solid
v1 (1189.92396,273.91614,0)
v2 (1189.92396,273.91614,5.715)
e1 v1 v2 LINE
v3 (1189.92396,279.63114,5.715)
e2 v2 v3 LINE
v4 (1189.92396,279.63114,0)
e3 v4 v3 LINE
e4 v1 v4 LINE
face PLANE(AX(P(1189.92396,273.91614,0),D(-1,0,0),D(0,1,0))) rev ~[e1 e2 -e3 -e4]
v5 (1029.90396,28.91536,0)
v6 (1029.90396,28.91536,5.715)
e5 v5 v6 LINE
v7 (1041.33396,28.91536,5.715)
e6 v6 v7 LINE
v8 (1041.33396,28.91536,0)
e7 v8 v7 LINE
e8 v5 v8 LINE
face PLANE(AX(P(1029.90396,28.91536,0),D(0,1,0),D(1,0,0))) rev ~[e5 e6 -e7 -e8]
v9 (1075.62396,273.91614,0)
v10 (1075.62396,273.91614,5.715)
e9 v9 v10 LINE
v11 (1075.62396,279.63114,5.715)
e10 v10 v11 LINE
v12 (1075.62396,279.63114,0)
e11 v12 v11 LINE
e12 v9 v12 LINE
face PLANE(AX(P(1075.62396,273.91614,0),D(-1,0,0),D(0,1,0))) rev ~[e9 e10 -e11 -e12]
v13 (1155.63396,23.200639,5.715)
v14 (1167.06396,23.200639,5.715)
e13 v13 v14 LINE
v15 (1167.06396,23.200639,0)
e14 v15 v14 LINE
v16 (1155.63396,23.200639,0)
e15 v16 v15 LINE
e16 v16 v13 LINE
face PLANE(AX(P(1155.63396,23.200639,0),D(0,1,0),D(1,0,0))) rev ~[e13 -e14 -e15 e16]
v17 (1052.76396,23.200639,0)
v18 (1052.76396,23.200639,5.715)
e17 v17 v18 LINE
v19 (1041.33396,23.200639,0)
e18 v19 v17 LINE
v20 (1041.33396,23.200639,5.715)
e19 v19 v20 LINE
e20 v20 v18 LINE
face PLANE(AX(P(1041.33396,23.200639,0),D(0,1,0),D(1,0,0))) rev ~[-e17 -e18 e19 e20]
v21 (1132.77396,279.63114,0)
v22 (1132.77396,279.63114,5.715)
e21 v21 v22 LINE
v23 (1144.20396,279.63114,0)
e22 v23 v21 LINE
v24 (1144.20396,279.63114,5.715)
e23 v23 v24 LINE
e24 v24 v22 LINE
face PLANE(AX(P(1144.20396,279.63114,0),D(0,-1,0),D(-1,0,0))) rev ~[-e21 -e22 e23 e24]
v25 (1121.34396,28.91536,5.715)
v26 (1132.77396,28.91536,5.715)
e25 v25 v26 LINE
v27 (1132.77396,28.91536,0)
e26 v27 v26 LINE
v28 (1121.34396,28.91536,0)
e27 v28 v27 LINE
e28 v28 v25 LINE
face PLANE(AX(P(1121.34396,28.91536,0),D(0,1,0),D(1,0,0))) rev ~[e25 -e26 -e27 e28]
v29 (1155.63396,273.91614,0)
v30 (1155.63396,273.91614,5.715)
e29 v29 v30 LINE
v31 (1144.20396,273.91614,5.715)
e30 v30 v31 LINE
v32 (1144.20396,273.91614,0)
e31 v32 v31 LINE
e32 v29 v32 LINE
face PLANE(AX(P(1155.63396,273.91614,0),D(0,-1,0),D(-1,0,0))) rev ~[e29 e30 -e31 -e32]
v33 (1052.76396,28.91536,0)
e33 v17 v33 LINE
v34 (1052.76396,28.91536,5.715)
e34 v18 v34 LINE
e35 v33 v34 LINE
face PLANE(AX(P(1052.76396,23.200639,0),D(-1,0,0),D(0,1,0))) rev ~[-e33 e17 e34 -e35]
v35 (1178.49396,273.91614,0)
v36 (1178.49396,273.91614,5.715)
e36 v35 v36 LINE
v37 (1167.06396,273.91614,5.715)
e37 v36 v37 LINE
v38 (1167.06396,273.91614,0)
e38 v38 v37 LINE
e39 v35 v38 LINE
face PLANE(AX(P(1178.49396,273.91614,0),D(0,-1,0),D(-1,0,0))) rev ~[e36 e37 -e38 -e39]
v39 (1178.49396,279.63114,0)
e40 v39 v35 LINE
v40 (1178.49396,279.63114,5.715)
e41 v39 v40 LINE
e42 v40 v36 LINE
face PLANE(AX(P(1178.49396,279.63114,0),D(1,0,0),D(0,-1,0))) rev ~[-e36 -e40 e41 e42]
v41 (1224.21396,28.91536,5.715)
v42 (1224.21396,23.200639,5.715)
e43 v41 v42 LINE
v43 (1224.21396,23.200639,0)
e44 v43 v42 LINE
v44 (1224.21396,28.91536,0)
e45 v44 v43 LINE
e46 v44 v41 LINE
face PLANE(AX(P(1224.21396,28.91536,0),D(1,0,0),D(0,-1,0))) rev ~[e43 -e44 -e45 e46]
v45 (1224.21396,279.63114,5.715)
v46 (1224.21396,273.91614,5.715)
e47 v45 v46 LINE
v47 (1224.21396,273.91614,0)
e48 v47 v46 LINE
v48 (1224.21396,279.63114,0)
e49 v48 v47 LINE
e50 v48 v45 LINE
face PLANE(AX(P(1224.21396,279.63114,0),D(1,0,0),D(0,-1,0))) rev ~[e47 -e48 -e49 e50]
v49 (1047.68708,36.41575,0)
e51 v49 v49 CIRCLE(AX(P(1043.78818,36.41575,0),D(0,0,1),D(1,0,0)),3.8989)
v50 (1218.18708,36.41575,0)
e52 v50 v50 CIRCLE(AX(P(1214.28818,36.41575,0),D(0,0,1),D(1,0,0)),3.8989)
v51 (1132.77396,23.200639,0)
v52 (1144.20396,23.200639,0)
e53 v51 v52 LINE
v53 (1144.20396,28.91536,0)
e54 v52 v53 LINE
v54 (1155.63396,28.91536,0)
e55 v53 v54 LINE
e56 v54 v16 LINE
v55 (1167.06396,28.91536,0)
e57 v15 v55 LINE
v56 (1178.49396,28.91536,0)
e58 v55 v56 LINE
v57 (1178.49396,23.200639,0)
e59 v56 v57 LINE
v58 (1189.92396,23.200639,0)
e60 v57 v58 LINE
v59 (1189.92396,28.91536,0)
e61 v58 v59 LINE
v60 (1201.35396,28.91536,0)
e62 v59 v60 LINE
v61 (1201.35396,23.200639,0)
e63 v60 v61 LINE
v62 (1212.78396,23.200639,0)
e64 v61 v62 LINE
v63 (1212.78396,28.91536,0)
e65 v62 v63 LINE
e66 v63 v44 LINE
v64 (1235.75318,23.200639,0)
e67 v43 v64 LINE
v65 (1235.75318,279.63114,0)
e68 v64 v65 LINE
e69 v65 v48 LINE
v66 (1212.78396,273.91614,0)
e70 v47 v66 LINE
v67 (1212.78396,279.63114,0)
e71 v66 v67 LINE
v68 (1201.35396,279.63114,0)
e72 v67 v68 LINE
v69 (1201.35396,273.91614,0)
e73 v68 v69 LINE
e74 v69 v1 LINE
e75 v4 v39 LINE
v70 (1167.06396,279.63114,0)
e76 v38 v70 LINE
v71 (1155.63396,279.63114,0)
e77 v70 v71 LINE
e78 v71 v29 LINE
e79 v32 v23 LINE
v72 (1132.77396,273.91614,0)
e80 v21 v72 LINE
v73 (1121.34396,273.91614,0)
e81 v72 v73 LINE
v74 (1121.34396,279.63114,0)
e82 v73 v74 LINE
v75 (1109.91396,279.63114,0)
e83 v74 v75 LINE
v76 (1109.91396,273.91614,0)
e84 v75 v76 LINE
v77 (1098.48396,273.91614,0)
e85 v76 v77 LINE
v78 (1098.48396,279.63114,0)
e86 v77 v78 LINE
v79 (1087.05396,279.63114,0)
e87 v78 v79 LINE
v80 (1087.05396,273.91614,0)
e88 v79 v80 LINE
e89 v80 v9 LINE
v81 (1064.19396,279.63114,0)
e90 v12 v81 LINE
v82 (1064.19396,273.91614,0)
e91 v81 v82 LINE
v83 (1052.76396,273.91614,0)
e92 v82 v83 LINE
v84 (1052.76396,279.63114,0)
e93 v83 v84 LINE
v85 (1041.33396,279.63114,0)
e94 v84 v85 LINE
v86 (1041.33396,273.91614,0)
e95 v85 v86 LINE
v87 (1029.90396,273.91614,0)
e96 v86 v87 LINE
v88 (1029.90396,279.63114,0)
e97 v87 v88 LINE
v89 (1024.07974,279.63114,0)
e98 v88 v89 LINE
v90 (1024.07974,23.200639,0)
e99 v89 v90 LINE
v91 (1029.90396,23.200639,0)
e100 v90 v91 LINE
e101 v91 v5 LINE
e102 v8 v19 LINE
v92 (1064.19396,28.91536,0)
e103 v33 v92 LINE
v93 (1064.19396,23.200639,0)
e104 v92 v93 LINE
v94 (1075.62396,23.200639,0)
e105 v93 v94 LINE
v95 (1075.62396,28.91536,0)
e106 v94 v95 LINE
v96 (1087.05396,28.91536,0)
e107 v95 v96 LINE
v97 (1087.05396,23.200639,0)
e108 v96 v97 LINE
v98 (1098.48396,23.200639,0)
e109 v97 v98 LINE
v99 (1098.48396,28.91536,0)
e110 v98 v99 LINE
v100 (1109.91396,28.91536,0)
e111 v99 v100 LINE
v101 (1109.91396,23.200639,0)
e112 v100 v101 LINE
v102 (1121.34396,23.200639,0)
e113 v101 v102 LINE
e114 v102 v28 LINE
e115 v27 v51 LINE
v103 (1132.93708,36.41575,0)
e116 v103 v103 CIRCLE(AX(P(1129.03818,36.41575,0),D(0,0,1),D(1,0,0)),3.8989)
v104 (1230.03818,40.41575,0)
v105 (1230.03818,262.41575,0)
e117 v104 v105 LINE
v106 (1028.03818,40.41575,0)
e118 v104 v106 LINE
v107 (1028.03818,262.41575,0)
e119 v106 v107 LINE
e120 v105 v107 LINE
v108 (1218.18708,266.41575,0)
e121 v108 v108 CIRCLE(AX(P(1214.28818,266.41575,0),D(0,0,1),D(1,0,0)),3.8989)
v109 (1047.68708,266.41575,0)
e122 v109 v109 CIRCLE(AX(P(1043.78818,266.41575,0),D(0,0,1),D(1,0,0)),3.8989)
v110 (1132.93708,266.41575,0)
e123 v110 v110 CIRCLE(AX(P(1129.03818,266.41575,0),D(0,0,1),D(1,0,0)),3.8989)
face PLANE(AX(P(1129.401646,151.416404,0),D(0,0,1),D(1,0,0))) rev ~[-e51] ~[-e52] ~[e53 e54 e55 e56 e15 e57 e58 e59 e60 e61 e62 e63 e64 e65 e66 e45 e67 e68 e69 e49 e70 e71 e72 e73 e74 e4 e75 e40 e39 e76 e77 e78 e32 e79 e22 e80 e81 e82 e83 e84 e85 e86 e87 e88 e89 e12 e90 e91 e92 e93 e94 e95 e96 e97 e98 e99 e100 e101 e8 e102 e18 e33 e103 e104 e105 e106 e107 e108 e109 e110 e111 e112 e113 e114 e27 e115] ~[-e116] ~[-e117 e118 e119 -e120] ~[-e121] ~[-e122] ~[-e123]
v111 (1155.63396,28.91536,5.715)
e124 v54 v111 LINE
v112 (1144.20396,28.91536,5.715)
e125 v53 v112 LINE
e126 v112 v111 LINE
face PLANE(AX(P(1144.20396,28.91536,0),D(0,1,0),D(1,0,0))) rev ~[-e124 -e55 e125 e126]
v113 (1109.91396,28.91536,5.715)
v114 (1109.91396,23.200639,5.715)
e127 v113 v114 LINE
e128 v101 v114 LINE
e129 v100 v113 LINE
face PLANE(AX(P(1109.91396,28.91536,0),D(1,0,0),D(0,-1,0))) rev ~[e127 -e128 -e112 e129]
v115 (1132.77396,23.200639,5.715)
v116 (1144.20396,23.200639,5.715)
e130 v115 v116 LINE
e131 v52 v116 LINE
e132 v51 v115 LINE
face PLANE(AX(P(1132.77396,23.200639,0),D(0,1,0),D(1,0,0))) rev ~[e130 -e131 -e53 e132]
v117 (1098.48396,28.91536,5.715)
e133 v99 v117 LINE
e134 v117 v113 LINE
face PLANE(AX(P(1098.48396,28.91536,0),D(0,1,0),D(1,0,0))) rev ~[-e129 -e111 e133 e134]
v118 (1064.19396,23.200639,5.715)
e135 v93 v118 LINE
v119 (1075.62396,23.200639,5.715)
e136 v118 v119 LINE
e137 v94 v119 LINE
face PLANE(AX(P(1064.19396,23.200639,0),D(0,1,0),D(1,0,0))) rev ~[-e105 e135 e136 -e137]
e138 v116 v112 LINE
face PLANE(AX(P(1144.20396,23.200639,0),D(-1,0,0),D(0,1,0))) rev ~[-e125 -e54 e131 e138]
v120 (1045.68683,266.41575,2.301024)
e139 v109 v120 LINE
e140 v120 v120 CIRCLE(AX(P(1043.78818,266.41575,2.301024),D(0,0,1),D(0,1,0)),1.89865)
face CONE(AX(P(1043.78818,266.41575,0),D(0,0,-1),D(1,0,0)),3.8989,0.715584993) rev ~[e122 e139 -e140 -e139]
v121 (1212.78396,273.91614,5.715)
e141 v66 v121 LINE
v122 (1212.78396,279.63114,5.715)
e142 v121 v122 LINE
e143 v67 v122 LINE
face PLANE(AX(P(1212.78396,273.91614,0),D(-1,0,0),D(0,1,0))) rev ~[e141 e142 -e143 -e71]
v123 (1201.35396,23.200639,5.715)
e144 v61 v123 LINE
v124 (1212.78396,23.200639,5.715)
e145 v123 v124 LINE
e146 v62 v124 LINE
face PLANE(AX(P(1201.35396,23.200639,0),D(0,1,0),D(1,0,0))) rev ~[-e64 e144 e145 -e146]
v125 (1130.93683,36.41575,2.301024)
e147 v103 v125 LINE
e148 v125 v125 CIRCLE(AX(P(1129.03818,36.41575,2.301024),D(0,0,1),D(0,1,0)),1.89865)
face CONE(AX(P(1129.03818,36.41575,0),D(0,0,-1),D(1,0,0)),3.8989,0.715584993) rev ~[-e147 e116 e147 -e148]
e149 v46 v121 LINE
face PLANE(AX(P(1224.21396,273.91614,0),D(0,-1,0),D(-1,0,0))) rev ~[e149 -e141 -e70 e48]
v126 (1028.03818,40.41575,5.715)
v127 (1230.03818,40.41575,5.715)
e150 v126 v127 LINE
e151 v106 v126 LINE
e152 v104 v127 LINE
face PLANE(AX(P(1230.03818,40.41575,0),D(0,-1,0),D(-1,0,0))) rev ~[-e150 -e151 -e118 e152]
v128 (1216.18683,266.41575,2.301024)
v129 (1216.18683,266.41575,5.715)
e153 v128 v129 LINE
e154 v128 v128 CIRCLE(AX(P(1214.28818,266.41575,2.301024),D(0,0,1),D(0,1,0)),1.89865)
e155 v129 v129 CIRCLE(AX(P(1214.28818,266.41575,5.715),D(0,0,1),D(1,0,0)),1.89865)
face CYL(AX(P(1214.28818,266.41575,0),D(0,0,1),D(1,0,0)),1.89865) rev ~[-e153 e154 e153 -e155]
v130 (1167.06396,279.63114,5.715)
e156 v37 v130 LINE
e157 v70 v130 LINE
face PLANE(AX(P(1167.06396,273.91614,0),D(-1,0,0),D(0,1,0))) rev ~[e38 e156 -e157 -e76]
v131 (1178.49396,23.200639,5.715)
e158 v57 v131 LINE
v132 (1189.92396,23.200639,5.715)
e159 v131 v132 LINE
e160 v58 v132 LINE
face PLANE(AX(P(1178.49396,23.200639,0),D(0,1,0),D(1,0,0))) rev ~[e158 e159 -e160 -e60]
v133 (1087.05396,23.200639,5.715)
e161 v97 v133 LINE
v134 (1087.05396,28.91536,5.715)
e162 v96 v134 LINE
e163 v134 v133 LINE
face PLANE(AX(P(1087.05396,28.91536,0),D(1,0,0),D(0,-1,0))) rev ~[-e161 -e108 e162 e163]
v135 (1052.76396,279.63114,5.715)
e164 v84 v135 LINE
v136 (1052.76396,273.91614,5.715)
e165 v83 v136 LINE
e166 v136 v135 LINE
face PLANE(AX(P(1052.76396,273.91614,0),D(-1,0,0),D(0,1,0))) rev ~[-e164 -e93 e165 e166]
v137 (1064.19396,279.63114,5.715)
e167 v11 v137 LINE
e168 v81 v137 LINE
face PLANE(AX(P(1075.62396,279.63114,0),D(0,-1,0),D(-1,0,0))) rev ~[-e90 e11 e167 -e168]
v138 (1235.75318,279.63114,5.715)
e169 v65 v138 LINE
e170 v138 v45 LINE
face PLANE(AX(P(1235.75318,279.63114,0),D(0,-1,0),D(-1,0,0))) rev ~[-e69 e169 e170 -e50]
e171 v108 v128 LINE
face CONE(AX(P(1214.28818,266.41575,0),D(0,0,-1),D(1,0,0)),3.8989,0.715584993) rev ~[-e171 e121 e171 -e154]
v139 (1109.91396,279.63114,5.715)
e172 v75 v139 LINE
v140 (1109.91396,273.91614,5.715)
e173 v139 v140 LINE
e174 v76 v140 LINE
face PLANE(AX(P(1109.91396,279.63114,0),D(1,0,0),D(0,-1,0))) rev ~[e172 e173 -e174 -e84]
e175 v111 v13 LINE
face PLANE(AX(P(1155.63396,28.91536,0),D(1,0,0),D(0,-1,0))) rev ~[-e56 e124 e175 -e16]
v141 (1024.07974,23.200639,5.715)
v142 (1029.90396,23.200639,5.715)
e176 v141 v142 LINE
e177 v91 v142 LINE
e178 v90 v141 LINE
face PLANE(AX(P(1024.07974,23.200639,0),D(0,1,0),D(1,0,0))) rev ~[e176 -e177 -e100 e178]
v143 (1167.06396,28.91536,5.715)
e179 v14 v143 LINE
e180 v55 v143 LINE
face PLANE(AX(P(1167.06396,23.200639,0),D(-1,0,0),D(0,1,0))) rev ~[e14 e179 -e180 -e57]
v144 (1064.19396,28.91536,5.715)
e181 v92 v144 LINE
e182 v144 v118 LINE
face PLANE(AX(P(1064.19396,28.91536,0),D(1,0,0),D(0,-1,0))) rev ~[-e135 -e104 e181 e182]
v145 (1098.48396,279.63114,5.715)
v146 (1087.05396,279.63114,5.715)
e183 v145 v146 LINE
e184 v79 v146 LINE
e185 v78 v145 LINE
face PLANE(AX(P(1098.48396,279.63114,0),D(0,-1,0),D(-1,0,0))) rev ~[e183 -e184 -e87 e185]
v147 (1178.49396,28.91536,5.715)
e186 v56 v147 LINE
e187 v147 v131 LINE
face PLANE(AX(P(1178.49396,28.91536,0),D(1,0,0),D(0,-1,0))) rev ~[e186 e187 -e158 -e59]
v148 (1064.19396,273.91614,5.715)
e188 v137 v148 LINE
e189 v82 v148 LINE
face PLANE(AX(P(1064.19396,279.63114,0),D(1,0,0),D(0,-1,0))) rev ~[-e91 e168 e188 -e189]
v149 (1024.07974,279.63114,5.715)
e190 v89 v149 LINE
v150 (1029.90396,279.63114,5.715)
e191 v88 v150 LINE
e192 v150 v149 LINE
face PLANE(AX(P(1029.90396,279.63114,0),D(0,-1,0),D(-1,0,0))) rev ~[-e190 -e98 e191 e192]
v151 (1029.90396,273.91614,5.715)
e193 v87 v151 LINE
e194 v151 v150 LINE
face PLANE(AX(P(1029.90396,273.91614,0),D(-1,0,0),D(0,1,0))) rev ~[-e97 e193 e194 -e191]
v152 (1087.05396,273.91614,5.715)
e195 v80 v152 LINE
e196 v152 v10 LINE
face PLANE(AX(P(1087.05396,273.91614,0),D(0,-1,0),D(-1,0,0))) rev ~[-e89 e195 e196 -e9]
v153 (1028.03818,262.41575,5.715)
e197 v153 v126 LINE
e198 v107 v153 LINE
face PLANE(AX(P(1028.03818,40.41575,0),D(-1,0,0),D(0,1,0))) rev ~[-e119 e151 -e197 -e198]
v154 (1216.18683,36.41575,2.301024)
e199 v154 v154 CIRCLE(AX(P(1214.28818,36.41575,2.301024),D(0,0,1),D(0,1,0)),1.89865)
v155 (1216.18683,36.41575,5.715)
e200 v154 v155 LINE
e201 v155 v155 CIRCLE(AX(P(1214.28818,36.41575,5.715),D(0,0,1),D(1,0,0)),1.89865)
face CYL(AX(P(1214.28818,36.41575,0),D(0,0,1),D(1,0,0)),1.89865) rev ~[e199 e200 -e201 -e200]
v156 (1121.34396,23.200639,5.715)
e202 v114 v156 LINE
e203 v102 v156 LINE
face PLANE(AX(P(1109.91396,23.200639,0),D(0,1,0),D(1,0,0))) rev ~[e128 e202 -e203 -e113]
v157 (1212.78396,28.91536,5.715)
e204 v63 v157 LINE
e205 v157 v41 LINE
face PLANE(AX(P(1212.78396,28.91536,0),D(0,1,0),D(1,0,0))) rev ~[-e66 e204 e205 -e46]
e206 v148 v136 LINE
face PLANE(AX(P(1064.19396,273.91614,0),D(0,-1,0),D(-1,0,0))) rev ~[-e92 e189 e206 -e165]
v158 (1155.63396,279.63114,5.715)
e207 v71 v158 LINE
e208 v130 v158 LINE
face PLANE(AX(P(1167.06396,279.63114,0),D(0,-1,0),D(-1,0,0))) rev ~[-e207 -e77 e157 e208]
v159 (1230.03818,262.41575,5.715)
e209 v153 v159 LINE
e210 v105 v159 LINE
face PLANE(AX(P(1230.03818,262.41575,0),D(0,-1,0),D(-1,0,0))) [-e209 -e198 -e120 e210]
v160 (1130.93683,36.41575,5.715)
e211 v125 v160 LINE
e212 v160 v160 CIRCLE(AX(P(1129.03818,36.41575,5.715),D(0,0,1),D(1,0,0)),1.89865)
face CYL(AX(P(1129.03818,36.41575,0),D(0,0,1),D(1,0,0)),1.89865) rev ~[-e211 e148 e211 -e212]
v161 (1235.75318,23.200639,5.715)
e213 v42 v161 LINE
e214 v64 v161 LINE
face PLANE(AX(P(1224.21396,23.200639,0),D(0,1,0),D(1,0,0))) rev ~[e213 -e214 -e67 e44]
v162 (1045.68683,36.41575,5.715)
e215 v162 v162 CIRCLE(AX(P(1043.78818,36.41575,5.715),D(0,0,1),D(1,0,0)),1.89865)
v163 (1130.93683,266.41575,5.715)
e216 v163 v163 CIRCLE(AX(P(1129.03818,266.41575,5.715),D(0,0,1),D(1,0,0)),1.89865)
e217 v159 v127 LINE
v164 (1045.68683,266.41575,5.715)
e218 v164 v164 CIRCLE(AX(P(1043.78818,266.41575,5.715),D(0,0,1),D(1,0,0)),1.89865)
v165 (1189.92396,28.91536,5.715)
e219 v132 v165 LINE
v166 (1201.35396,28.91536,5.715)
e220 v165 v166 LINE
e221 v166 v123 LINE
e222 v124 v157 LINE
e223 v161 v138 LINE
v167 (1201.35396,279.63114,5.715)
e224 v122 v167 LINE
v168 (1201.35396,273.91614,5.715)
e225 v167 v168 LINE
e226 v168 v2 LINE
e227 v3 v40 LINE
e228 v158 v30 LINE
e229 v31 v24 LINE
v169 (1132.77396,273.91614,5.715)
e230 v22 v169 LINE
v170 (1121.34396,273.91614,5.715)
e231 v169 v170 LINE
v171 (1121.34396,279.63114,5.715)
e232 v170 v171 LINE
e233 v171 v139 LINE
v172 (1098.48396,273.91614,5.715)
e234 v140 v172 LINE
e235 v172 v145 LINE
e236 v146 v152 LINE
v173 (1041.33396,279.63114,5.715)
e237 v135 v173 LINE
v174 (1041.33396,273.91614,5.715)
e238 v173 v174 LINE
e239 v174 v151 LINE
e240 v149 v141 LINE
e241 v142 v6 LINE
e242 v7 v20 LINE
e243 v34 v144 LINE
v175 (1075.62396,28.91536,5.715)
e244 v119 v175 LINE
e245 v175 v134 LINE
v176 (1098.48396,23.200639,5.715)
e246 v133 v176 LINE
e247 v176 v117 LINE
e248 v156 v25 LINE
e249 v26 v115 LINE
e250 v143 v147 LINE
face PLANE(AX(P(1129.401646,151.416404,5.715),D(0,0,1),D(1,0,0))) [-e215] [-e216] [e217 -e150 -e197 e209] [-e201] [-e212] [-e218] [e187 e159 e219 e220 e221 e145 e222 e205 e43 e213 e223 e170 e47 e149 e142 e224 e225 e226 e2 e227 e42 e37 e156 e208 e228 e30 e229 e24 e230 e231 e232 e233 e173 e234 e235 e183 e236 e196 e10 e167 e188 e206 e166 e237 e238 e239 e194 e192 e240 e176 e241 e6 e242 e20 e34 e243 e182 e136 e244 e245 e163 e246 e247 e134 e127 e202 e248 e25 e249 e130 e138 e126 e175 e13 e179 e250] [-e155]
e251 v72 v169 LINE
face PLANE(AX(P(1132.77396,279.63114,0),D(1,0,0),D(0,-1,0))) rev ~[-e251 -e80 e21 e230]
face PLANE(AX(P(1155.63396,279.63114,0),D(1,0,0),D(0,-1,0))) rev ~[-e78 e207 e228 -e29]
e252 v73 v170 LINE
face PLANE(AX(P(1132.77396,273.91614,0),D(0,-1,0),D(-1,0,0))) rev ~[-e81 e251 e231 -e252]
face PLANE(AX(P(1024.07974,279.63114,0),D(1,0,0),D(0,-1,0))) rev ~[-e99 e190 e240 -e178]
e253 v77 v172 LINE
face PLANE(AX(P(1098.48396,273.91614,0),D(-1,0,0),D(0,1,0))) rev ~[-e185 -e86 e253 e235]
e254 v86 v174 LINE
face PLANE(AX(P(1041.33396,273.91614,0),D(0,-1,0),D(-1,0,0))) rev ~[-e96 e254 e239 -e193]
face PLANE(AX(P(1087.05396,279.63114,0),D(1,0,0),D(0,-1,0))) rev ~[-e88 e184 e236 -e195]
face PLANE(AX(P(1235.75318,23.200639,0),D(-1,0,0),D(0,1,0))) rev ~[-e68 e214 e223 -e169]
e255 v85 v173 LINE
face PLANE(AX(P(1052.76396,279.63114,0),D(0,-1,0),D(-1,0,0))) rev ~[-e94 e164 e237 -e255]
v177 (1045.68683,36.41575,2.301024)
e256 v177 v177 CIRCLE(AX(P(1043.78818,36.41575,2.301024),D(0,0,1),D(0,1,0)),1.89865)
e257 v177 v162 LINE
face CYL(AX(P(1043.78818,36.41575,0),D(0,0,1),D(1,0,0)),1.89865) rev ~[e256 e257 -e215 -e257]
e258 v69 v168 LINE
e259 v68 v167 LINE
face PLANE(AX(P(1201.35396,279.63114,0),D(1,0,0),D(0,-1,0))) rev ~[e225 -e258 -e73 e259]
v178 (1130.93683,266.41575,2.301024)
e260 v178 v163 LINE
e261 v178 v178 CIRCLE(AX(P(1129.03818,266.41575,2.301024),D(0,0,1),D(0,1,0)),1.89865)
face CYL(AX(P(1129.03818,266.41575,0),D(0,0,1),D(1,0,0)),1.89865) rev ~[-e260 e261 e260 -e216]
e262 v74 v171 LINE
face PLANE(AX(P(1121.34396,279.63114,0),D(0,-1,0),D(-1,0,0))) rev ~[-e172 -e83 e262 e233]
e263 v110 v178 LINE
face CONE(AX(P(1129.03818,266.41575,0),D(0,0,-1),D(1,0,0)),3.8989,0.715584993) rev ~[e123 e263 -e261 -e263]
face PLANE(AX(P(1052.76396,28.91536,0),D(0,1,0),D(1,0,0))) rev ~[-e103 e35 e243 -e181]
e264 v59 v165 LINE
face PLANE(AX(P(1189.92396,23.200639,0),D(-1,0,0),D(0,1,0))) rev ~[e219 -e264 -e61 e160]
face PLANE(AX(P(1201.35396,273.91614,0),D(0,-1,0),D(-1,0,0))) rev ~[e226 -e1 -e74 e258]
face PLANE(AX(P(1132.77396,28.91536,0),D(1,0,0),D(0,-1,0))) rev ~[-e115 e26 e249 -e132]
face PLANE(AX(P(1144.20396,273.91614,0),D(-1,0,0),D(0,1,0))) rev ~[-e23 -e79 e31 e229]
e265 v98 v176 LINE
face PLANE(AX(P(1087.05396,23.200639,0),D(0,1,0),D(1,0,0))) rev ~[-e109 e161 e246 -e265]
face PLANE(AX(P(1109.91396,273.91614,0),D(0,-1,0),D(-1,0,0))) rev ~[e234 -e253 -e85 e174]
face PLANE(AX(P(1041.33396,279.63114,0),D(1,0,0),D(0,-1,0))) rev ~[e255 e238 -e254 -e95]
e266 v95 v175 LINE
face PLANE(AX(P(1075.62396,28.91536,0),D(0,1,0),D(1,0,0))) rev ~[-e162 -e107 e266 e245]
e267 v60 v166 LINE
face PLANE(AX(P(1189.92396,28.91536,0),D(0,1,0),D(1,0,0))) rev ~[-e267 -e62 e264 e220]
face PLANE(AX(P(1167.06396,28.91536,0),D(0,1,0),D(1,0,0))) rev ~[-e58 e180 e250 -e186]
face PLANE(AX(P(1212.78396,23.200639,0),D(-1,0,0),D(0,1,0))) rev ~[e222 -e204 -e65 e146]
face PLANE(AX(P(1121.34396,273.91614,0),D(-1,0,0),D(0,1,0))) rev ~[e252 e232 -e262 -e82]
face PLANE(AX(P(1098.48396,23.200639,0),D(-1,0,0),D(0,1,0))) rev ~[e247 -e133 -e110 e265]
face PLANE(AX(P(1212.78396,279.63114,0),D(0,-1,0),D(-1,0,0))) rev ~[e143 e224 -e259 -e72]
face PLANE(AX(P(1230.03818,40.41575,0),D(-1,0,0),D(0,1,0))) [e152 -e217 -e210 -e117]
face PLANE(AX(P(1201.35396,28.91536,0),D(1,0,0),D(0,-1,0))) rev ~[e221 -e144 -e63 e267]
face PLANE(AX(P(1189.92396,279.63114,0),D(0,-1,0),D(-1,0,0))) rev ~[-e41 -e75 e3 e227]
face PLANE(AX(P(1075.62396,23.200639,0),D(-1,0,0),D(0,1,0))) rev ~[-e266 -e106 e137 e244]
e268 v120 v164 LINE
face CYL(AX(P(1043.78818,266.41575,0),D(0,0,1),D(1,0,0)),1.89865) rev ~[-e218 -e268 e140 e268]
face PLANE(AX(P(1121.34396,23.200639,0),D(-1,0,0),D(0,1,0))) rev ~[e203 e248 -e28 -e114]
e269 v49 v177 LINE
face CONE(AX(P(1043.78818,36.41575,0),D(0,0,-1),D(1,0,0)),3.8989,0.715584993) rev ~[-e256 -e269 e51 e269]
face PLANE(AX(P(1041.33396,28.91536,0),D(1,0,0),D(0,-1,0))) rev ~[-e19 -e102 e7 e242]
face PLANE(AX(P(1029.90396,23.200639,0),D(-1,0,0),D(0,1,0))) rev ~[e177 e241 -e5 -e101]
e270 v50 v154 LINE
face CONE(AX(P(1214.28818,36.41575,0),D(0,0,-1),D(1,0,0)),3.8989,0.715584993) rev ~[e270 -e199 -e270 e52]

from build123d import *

# Parameters (mm, degrees)
BOSS_EXTRUDE1_DEPTH                               = 5.715
SKETCH1_W                                         = 202
SKETCH1_H                                         = 222
CUT_EXTRUDE1_DEPTH                                = 6.715
CSK_FOR_6_FLAT_HEAD_SOCKET_CAP_SCREW1_D           = 3.7973
CSK_FOR_6_FLAT_HEAD_SOCKET_CAP_SCREW1_DEPTH       = 20
CSK_FOR_6_FLAT_HEAD_SOCKET_CAP_SCREW1_CSINK_D     = 7.7978
CSK_FOR_6_FLAT_HEAD_SOCKET_CAP_SCREW1_CSINK_ANGLE = 82
CSK_FOR_6_FLAT_HEAD_SOCKET_CAP_SCREW1_TIP         = 1.140824014


with BuildPart() as part:
    # Model → Boss-Extrude1 (new body)
    with BuildSketch(Plane.XY):
        Polygon((1024.07974, 23.2006394), (1029.90396, 23.2006394), (1029.90396, 28.91536), (1041.33396, 28.91536), (1041.33396, 23.2006394), (1052.76396, 23.2006394), (1052.76396, 28.91536), (1064.19396, 28.91536), (1064.19396, 23.2006394), (1075.62396, 23.2006394), (1075.62396, 28.91536), (1087.05396, 28.91536), (1087.05396, 23.2006394), (1098.48396, 23.2006394), (1098.48396, 28.91536), (1109.91396, 28.91536), (1109.91396, 23.2006394), (1121.34396, 23.2006394), (1121.34396, 28.91536), (1132.77396, 28.91536), (1132.77396, 23.2006394), (1144.20396, 23.2006394), (1144.20396, 28.91536), (1155.63396, 28.91536), (1155.63396, 23.2006394), (1167.06396, 23.2006394), (1167.06396, 28.91536), (1178.49396, 28.91536), (1178.49396, 23.2006394), (1189.92396, 23.2006394), (1189.92396, 28.91536), (1201.35396, 28.91536), (1201.35396, 23.2006394), (1212.78396, 23.2006394), (1212.78396, 28.91536), (1224.21396, 28.91536), (1224.21396, 23.2006394), (1235.75318, 23.2006394), (1235.75318, 279.63114), (1224.21396, 279.63114), (1224.21396, 273.91614), (1212.78396, 273.91614), (1212.78396, 279.63114), (1201.35396, 279.63114), (1201.35396, 273.91614), (1189.92396, 273.91614), (1189.92396, 279.63114), (1178.49396, 279.63114), (1178.49396, 273.91614), (1167.06396, 273.91614), (1167.06396, 279.63114), (1155.63396, 279.63114), (1155.63396, 273.91614), (1144.20396, 273.91614), (1144.20396, 279.63114), (1132.77396, 279.63114), (1132.77396, 273.91614), (1121.34396, 273.91614), (1121.34396, 279.63114), (1109.91396, 279.63114), (1109.91396, 273.91614), (1098.48396, 273.91614), (1098.48396, 279.63114), (1087.05396, 279.63114), (1087.05396, 273.91614), (1075.62396, 273.91614), (1075.62396, 279.63114), (1064.19396, 279.63114), (1064.19396, 273.91614), (1052.76396, 273.91614), (1052.76396, 279.63114), (1041.33396, 279.63114), (1041.33396, 273.91614), (1029.90396, 273.91614), (1029.90396, 279.63114), (1024.07974, 279.63114), align=None)
    extrude(amount=BOSS_EXTRUDE1_DEPTH)

    # Sketch1 → Cut-Extrude1 (cut, through all)
    with BuildSketch(Plane(origin=(0, 0, 0), x_dir=(-1, 0, 0), z_dir=(0, 0, -1))):
        with Locations((-1129.03818, 151.41575)):
            Rectangle(SKETCH1_W, SKETCH1_H)
    extrude(amount=-CUT_EXTRUDE1_DEPTH, mode=Mode.SUBTRACT)

    # CSK for #6 Flat Head Socket Cap Screw1
    with Locations(Plane(origin=(1095.03845, 151.41575, 0), x_dir=(-1, 0, 0), z_dir=(0, 0, -1))):
        with Locations((-119.24973, 115), (-33.99973, 115), (51.25027, 115), (51.25027, -115), (-33.99973, -115), (-119.24973, -115)):
            CounterSinkHole(CSK_FOR_6_FLAT_HEAD_SOCKET_CAP_SCREW1_D / 2, CSK_FOR_6_FLAT_HEAD_SOCKET_CAP_SCREW1_CSINK_D / 2, depth=CSK_FOR_6_FLAT_HEAD_SOCKET_CAP_SCREW1_DEPTH, counter_sink_angle=CSK_FOR_6_FLAT_HEAD_SOCKET_CAP_SCREW1_CSINK_ANGLE)
            with Locations((0, 0, -(CSK_FOR_6_FLAT_HEAD_SOCKET_CAP_SCREW1_DEPTH + CSK_FOR_6_FLAT_HEAD_SOCKET_CAP_SCREW1_TIP / 2))):  # 118° drill point
                Cone(0, CSK_FOR_6_FLAT_HEAD_SOCKET_CAP_SCREW1_D / 2, CSK_FOR_6_FLAT_HEAD_SOCKET_CAP_SCREW1_TIP, mode=Mode.SUBTRACT)


solid = part.part
